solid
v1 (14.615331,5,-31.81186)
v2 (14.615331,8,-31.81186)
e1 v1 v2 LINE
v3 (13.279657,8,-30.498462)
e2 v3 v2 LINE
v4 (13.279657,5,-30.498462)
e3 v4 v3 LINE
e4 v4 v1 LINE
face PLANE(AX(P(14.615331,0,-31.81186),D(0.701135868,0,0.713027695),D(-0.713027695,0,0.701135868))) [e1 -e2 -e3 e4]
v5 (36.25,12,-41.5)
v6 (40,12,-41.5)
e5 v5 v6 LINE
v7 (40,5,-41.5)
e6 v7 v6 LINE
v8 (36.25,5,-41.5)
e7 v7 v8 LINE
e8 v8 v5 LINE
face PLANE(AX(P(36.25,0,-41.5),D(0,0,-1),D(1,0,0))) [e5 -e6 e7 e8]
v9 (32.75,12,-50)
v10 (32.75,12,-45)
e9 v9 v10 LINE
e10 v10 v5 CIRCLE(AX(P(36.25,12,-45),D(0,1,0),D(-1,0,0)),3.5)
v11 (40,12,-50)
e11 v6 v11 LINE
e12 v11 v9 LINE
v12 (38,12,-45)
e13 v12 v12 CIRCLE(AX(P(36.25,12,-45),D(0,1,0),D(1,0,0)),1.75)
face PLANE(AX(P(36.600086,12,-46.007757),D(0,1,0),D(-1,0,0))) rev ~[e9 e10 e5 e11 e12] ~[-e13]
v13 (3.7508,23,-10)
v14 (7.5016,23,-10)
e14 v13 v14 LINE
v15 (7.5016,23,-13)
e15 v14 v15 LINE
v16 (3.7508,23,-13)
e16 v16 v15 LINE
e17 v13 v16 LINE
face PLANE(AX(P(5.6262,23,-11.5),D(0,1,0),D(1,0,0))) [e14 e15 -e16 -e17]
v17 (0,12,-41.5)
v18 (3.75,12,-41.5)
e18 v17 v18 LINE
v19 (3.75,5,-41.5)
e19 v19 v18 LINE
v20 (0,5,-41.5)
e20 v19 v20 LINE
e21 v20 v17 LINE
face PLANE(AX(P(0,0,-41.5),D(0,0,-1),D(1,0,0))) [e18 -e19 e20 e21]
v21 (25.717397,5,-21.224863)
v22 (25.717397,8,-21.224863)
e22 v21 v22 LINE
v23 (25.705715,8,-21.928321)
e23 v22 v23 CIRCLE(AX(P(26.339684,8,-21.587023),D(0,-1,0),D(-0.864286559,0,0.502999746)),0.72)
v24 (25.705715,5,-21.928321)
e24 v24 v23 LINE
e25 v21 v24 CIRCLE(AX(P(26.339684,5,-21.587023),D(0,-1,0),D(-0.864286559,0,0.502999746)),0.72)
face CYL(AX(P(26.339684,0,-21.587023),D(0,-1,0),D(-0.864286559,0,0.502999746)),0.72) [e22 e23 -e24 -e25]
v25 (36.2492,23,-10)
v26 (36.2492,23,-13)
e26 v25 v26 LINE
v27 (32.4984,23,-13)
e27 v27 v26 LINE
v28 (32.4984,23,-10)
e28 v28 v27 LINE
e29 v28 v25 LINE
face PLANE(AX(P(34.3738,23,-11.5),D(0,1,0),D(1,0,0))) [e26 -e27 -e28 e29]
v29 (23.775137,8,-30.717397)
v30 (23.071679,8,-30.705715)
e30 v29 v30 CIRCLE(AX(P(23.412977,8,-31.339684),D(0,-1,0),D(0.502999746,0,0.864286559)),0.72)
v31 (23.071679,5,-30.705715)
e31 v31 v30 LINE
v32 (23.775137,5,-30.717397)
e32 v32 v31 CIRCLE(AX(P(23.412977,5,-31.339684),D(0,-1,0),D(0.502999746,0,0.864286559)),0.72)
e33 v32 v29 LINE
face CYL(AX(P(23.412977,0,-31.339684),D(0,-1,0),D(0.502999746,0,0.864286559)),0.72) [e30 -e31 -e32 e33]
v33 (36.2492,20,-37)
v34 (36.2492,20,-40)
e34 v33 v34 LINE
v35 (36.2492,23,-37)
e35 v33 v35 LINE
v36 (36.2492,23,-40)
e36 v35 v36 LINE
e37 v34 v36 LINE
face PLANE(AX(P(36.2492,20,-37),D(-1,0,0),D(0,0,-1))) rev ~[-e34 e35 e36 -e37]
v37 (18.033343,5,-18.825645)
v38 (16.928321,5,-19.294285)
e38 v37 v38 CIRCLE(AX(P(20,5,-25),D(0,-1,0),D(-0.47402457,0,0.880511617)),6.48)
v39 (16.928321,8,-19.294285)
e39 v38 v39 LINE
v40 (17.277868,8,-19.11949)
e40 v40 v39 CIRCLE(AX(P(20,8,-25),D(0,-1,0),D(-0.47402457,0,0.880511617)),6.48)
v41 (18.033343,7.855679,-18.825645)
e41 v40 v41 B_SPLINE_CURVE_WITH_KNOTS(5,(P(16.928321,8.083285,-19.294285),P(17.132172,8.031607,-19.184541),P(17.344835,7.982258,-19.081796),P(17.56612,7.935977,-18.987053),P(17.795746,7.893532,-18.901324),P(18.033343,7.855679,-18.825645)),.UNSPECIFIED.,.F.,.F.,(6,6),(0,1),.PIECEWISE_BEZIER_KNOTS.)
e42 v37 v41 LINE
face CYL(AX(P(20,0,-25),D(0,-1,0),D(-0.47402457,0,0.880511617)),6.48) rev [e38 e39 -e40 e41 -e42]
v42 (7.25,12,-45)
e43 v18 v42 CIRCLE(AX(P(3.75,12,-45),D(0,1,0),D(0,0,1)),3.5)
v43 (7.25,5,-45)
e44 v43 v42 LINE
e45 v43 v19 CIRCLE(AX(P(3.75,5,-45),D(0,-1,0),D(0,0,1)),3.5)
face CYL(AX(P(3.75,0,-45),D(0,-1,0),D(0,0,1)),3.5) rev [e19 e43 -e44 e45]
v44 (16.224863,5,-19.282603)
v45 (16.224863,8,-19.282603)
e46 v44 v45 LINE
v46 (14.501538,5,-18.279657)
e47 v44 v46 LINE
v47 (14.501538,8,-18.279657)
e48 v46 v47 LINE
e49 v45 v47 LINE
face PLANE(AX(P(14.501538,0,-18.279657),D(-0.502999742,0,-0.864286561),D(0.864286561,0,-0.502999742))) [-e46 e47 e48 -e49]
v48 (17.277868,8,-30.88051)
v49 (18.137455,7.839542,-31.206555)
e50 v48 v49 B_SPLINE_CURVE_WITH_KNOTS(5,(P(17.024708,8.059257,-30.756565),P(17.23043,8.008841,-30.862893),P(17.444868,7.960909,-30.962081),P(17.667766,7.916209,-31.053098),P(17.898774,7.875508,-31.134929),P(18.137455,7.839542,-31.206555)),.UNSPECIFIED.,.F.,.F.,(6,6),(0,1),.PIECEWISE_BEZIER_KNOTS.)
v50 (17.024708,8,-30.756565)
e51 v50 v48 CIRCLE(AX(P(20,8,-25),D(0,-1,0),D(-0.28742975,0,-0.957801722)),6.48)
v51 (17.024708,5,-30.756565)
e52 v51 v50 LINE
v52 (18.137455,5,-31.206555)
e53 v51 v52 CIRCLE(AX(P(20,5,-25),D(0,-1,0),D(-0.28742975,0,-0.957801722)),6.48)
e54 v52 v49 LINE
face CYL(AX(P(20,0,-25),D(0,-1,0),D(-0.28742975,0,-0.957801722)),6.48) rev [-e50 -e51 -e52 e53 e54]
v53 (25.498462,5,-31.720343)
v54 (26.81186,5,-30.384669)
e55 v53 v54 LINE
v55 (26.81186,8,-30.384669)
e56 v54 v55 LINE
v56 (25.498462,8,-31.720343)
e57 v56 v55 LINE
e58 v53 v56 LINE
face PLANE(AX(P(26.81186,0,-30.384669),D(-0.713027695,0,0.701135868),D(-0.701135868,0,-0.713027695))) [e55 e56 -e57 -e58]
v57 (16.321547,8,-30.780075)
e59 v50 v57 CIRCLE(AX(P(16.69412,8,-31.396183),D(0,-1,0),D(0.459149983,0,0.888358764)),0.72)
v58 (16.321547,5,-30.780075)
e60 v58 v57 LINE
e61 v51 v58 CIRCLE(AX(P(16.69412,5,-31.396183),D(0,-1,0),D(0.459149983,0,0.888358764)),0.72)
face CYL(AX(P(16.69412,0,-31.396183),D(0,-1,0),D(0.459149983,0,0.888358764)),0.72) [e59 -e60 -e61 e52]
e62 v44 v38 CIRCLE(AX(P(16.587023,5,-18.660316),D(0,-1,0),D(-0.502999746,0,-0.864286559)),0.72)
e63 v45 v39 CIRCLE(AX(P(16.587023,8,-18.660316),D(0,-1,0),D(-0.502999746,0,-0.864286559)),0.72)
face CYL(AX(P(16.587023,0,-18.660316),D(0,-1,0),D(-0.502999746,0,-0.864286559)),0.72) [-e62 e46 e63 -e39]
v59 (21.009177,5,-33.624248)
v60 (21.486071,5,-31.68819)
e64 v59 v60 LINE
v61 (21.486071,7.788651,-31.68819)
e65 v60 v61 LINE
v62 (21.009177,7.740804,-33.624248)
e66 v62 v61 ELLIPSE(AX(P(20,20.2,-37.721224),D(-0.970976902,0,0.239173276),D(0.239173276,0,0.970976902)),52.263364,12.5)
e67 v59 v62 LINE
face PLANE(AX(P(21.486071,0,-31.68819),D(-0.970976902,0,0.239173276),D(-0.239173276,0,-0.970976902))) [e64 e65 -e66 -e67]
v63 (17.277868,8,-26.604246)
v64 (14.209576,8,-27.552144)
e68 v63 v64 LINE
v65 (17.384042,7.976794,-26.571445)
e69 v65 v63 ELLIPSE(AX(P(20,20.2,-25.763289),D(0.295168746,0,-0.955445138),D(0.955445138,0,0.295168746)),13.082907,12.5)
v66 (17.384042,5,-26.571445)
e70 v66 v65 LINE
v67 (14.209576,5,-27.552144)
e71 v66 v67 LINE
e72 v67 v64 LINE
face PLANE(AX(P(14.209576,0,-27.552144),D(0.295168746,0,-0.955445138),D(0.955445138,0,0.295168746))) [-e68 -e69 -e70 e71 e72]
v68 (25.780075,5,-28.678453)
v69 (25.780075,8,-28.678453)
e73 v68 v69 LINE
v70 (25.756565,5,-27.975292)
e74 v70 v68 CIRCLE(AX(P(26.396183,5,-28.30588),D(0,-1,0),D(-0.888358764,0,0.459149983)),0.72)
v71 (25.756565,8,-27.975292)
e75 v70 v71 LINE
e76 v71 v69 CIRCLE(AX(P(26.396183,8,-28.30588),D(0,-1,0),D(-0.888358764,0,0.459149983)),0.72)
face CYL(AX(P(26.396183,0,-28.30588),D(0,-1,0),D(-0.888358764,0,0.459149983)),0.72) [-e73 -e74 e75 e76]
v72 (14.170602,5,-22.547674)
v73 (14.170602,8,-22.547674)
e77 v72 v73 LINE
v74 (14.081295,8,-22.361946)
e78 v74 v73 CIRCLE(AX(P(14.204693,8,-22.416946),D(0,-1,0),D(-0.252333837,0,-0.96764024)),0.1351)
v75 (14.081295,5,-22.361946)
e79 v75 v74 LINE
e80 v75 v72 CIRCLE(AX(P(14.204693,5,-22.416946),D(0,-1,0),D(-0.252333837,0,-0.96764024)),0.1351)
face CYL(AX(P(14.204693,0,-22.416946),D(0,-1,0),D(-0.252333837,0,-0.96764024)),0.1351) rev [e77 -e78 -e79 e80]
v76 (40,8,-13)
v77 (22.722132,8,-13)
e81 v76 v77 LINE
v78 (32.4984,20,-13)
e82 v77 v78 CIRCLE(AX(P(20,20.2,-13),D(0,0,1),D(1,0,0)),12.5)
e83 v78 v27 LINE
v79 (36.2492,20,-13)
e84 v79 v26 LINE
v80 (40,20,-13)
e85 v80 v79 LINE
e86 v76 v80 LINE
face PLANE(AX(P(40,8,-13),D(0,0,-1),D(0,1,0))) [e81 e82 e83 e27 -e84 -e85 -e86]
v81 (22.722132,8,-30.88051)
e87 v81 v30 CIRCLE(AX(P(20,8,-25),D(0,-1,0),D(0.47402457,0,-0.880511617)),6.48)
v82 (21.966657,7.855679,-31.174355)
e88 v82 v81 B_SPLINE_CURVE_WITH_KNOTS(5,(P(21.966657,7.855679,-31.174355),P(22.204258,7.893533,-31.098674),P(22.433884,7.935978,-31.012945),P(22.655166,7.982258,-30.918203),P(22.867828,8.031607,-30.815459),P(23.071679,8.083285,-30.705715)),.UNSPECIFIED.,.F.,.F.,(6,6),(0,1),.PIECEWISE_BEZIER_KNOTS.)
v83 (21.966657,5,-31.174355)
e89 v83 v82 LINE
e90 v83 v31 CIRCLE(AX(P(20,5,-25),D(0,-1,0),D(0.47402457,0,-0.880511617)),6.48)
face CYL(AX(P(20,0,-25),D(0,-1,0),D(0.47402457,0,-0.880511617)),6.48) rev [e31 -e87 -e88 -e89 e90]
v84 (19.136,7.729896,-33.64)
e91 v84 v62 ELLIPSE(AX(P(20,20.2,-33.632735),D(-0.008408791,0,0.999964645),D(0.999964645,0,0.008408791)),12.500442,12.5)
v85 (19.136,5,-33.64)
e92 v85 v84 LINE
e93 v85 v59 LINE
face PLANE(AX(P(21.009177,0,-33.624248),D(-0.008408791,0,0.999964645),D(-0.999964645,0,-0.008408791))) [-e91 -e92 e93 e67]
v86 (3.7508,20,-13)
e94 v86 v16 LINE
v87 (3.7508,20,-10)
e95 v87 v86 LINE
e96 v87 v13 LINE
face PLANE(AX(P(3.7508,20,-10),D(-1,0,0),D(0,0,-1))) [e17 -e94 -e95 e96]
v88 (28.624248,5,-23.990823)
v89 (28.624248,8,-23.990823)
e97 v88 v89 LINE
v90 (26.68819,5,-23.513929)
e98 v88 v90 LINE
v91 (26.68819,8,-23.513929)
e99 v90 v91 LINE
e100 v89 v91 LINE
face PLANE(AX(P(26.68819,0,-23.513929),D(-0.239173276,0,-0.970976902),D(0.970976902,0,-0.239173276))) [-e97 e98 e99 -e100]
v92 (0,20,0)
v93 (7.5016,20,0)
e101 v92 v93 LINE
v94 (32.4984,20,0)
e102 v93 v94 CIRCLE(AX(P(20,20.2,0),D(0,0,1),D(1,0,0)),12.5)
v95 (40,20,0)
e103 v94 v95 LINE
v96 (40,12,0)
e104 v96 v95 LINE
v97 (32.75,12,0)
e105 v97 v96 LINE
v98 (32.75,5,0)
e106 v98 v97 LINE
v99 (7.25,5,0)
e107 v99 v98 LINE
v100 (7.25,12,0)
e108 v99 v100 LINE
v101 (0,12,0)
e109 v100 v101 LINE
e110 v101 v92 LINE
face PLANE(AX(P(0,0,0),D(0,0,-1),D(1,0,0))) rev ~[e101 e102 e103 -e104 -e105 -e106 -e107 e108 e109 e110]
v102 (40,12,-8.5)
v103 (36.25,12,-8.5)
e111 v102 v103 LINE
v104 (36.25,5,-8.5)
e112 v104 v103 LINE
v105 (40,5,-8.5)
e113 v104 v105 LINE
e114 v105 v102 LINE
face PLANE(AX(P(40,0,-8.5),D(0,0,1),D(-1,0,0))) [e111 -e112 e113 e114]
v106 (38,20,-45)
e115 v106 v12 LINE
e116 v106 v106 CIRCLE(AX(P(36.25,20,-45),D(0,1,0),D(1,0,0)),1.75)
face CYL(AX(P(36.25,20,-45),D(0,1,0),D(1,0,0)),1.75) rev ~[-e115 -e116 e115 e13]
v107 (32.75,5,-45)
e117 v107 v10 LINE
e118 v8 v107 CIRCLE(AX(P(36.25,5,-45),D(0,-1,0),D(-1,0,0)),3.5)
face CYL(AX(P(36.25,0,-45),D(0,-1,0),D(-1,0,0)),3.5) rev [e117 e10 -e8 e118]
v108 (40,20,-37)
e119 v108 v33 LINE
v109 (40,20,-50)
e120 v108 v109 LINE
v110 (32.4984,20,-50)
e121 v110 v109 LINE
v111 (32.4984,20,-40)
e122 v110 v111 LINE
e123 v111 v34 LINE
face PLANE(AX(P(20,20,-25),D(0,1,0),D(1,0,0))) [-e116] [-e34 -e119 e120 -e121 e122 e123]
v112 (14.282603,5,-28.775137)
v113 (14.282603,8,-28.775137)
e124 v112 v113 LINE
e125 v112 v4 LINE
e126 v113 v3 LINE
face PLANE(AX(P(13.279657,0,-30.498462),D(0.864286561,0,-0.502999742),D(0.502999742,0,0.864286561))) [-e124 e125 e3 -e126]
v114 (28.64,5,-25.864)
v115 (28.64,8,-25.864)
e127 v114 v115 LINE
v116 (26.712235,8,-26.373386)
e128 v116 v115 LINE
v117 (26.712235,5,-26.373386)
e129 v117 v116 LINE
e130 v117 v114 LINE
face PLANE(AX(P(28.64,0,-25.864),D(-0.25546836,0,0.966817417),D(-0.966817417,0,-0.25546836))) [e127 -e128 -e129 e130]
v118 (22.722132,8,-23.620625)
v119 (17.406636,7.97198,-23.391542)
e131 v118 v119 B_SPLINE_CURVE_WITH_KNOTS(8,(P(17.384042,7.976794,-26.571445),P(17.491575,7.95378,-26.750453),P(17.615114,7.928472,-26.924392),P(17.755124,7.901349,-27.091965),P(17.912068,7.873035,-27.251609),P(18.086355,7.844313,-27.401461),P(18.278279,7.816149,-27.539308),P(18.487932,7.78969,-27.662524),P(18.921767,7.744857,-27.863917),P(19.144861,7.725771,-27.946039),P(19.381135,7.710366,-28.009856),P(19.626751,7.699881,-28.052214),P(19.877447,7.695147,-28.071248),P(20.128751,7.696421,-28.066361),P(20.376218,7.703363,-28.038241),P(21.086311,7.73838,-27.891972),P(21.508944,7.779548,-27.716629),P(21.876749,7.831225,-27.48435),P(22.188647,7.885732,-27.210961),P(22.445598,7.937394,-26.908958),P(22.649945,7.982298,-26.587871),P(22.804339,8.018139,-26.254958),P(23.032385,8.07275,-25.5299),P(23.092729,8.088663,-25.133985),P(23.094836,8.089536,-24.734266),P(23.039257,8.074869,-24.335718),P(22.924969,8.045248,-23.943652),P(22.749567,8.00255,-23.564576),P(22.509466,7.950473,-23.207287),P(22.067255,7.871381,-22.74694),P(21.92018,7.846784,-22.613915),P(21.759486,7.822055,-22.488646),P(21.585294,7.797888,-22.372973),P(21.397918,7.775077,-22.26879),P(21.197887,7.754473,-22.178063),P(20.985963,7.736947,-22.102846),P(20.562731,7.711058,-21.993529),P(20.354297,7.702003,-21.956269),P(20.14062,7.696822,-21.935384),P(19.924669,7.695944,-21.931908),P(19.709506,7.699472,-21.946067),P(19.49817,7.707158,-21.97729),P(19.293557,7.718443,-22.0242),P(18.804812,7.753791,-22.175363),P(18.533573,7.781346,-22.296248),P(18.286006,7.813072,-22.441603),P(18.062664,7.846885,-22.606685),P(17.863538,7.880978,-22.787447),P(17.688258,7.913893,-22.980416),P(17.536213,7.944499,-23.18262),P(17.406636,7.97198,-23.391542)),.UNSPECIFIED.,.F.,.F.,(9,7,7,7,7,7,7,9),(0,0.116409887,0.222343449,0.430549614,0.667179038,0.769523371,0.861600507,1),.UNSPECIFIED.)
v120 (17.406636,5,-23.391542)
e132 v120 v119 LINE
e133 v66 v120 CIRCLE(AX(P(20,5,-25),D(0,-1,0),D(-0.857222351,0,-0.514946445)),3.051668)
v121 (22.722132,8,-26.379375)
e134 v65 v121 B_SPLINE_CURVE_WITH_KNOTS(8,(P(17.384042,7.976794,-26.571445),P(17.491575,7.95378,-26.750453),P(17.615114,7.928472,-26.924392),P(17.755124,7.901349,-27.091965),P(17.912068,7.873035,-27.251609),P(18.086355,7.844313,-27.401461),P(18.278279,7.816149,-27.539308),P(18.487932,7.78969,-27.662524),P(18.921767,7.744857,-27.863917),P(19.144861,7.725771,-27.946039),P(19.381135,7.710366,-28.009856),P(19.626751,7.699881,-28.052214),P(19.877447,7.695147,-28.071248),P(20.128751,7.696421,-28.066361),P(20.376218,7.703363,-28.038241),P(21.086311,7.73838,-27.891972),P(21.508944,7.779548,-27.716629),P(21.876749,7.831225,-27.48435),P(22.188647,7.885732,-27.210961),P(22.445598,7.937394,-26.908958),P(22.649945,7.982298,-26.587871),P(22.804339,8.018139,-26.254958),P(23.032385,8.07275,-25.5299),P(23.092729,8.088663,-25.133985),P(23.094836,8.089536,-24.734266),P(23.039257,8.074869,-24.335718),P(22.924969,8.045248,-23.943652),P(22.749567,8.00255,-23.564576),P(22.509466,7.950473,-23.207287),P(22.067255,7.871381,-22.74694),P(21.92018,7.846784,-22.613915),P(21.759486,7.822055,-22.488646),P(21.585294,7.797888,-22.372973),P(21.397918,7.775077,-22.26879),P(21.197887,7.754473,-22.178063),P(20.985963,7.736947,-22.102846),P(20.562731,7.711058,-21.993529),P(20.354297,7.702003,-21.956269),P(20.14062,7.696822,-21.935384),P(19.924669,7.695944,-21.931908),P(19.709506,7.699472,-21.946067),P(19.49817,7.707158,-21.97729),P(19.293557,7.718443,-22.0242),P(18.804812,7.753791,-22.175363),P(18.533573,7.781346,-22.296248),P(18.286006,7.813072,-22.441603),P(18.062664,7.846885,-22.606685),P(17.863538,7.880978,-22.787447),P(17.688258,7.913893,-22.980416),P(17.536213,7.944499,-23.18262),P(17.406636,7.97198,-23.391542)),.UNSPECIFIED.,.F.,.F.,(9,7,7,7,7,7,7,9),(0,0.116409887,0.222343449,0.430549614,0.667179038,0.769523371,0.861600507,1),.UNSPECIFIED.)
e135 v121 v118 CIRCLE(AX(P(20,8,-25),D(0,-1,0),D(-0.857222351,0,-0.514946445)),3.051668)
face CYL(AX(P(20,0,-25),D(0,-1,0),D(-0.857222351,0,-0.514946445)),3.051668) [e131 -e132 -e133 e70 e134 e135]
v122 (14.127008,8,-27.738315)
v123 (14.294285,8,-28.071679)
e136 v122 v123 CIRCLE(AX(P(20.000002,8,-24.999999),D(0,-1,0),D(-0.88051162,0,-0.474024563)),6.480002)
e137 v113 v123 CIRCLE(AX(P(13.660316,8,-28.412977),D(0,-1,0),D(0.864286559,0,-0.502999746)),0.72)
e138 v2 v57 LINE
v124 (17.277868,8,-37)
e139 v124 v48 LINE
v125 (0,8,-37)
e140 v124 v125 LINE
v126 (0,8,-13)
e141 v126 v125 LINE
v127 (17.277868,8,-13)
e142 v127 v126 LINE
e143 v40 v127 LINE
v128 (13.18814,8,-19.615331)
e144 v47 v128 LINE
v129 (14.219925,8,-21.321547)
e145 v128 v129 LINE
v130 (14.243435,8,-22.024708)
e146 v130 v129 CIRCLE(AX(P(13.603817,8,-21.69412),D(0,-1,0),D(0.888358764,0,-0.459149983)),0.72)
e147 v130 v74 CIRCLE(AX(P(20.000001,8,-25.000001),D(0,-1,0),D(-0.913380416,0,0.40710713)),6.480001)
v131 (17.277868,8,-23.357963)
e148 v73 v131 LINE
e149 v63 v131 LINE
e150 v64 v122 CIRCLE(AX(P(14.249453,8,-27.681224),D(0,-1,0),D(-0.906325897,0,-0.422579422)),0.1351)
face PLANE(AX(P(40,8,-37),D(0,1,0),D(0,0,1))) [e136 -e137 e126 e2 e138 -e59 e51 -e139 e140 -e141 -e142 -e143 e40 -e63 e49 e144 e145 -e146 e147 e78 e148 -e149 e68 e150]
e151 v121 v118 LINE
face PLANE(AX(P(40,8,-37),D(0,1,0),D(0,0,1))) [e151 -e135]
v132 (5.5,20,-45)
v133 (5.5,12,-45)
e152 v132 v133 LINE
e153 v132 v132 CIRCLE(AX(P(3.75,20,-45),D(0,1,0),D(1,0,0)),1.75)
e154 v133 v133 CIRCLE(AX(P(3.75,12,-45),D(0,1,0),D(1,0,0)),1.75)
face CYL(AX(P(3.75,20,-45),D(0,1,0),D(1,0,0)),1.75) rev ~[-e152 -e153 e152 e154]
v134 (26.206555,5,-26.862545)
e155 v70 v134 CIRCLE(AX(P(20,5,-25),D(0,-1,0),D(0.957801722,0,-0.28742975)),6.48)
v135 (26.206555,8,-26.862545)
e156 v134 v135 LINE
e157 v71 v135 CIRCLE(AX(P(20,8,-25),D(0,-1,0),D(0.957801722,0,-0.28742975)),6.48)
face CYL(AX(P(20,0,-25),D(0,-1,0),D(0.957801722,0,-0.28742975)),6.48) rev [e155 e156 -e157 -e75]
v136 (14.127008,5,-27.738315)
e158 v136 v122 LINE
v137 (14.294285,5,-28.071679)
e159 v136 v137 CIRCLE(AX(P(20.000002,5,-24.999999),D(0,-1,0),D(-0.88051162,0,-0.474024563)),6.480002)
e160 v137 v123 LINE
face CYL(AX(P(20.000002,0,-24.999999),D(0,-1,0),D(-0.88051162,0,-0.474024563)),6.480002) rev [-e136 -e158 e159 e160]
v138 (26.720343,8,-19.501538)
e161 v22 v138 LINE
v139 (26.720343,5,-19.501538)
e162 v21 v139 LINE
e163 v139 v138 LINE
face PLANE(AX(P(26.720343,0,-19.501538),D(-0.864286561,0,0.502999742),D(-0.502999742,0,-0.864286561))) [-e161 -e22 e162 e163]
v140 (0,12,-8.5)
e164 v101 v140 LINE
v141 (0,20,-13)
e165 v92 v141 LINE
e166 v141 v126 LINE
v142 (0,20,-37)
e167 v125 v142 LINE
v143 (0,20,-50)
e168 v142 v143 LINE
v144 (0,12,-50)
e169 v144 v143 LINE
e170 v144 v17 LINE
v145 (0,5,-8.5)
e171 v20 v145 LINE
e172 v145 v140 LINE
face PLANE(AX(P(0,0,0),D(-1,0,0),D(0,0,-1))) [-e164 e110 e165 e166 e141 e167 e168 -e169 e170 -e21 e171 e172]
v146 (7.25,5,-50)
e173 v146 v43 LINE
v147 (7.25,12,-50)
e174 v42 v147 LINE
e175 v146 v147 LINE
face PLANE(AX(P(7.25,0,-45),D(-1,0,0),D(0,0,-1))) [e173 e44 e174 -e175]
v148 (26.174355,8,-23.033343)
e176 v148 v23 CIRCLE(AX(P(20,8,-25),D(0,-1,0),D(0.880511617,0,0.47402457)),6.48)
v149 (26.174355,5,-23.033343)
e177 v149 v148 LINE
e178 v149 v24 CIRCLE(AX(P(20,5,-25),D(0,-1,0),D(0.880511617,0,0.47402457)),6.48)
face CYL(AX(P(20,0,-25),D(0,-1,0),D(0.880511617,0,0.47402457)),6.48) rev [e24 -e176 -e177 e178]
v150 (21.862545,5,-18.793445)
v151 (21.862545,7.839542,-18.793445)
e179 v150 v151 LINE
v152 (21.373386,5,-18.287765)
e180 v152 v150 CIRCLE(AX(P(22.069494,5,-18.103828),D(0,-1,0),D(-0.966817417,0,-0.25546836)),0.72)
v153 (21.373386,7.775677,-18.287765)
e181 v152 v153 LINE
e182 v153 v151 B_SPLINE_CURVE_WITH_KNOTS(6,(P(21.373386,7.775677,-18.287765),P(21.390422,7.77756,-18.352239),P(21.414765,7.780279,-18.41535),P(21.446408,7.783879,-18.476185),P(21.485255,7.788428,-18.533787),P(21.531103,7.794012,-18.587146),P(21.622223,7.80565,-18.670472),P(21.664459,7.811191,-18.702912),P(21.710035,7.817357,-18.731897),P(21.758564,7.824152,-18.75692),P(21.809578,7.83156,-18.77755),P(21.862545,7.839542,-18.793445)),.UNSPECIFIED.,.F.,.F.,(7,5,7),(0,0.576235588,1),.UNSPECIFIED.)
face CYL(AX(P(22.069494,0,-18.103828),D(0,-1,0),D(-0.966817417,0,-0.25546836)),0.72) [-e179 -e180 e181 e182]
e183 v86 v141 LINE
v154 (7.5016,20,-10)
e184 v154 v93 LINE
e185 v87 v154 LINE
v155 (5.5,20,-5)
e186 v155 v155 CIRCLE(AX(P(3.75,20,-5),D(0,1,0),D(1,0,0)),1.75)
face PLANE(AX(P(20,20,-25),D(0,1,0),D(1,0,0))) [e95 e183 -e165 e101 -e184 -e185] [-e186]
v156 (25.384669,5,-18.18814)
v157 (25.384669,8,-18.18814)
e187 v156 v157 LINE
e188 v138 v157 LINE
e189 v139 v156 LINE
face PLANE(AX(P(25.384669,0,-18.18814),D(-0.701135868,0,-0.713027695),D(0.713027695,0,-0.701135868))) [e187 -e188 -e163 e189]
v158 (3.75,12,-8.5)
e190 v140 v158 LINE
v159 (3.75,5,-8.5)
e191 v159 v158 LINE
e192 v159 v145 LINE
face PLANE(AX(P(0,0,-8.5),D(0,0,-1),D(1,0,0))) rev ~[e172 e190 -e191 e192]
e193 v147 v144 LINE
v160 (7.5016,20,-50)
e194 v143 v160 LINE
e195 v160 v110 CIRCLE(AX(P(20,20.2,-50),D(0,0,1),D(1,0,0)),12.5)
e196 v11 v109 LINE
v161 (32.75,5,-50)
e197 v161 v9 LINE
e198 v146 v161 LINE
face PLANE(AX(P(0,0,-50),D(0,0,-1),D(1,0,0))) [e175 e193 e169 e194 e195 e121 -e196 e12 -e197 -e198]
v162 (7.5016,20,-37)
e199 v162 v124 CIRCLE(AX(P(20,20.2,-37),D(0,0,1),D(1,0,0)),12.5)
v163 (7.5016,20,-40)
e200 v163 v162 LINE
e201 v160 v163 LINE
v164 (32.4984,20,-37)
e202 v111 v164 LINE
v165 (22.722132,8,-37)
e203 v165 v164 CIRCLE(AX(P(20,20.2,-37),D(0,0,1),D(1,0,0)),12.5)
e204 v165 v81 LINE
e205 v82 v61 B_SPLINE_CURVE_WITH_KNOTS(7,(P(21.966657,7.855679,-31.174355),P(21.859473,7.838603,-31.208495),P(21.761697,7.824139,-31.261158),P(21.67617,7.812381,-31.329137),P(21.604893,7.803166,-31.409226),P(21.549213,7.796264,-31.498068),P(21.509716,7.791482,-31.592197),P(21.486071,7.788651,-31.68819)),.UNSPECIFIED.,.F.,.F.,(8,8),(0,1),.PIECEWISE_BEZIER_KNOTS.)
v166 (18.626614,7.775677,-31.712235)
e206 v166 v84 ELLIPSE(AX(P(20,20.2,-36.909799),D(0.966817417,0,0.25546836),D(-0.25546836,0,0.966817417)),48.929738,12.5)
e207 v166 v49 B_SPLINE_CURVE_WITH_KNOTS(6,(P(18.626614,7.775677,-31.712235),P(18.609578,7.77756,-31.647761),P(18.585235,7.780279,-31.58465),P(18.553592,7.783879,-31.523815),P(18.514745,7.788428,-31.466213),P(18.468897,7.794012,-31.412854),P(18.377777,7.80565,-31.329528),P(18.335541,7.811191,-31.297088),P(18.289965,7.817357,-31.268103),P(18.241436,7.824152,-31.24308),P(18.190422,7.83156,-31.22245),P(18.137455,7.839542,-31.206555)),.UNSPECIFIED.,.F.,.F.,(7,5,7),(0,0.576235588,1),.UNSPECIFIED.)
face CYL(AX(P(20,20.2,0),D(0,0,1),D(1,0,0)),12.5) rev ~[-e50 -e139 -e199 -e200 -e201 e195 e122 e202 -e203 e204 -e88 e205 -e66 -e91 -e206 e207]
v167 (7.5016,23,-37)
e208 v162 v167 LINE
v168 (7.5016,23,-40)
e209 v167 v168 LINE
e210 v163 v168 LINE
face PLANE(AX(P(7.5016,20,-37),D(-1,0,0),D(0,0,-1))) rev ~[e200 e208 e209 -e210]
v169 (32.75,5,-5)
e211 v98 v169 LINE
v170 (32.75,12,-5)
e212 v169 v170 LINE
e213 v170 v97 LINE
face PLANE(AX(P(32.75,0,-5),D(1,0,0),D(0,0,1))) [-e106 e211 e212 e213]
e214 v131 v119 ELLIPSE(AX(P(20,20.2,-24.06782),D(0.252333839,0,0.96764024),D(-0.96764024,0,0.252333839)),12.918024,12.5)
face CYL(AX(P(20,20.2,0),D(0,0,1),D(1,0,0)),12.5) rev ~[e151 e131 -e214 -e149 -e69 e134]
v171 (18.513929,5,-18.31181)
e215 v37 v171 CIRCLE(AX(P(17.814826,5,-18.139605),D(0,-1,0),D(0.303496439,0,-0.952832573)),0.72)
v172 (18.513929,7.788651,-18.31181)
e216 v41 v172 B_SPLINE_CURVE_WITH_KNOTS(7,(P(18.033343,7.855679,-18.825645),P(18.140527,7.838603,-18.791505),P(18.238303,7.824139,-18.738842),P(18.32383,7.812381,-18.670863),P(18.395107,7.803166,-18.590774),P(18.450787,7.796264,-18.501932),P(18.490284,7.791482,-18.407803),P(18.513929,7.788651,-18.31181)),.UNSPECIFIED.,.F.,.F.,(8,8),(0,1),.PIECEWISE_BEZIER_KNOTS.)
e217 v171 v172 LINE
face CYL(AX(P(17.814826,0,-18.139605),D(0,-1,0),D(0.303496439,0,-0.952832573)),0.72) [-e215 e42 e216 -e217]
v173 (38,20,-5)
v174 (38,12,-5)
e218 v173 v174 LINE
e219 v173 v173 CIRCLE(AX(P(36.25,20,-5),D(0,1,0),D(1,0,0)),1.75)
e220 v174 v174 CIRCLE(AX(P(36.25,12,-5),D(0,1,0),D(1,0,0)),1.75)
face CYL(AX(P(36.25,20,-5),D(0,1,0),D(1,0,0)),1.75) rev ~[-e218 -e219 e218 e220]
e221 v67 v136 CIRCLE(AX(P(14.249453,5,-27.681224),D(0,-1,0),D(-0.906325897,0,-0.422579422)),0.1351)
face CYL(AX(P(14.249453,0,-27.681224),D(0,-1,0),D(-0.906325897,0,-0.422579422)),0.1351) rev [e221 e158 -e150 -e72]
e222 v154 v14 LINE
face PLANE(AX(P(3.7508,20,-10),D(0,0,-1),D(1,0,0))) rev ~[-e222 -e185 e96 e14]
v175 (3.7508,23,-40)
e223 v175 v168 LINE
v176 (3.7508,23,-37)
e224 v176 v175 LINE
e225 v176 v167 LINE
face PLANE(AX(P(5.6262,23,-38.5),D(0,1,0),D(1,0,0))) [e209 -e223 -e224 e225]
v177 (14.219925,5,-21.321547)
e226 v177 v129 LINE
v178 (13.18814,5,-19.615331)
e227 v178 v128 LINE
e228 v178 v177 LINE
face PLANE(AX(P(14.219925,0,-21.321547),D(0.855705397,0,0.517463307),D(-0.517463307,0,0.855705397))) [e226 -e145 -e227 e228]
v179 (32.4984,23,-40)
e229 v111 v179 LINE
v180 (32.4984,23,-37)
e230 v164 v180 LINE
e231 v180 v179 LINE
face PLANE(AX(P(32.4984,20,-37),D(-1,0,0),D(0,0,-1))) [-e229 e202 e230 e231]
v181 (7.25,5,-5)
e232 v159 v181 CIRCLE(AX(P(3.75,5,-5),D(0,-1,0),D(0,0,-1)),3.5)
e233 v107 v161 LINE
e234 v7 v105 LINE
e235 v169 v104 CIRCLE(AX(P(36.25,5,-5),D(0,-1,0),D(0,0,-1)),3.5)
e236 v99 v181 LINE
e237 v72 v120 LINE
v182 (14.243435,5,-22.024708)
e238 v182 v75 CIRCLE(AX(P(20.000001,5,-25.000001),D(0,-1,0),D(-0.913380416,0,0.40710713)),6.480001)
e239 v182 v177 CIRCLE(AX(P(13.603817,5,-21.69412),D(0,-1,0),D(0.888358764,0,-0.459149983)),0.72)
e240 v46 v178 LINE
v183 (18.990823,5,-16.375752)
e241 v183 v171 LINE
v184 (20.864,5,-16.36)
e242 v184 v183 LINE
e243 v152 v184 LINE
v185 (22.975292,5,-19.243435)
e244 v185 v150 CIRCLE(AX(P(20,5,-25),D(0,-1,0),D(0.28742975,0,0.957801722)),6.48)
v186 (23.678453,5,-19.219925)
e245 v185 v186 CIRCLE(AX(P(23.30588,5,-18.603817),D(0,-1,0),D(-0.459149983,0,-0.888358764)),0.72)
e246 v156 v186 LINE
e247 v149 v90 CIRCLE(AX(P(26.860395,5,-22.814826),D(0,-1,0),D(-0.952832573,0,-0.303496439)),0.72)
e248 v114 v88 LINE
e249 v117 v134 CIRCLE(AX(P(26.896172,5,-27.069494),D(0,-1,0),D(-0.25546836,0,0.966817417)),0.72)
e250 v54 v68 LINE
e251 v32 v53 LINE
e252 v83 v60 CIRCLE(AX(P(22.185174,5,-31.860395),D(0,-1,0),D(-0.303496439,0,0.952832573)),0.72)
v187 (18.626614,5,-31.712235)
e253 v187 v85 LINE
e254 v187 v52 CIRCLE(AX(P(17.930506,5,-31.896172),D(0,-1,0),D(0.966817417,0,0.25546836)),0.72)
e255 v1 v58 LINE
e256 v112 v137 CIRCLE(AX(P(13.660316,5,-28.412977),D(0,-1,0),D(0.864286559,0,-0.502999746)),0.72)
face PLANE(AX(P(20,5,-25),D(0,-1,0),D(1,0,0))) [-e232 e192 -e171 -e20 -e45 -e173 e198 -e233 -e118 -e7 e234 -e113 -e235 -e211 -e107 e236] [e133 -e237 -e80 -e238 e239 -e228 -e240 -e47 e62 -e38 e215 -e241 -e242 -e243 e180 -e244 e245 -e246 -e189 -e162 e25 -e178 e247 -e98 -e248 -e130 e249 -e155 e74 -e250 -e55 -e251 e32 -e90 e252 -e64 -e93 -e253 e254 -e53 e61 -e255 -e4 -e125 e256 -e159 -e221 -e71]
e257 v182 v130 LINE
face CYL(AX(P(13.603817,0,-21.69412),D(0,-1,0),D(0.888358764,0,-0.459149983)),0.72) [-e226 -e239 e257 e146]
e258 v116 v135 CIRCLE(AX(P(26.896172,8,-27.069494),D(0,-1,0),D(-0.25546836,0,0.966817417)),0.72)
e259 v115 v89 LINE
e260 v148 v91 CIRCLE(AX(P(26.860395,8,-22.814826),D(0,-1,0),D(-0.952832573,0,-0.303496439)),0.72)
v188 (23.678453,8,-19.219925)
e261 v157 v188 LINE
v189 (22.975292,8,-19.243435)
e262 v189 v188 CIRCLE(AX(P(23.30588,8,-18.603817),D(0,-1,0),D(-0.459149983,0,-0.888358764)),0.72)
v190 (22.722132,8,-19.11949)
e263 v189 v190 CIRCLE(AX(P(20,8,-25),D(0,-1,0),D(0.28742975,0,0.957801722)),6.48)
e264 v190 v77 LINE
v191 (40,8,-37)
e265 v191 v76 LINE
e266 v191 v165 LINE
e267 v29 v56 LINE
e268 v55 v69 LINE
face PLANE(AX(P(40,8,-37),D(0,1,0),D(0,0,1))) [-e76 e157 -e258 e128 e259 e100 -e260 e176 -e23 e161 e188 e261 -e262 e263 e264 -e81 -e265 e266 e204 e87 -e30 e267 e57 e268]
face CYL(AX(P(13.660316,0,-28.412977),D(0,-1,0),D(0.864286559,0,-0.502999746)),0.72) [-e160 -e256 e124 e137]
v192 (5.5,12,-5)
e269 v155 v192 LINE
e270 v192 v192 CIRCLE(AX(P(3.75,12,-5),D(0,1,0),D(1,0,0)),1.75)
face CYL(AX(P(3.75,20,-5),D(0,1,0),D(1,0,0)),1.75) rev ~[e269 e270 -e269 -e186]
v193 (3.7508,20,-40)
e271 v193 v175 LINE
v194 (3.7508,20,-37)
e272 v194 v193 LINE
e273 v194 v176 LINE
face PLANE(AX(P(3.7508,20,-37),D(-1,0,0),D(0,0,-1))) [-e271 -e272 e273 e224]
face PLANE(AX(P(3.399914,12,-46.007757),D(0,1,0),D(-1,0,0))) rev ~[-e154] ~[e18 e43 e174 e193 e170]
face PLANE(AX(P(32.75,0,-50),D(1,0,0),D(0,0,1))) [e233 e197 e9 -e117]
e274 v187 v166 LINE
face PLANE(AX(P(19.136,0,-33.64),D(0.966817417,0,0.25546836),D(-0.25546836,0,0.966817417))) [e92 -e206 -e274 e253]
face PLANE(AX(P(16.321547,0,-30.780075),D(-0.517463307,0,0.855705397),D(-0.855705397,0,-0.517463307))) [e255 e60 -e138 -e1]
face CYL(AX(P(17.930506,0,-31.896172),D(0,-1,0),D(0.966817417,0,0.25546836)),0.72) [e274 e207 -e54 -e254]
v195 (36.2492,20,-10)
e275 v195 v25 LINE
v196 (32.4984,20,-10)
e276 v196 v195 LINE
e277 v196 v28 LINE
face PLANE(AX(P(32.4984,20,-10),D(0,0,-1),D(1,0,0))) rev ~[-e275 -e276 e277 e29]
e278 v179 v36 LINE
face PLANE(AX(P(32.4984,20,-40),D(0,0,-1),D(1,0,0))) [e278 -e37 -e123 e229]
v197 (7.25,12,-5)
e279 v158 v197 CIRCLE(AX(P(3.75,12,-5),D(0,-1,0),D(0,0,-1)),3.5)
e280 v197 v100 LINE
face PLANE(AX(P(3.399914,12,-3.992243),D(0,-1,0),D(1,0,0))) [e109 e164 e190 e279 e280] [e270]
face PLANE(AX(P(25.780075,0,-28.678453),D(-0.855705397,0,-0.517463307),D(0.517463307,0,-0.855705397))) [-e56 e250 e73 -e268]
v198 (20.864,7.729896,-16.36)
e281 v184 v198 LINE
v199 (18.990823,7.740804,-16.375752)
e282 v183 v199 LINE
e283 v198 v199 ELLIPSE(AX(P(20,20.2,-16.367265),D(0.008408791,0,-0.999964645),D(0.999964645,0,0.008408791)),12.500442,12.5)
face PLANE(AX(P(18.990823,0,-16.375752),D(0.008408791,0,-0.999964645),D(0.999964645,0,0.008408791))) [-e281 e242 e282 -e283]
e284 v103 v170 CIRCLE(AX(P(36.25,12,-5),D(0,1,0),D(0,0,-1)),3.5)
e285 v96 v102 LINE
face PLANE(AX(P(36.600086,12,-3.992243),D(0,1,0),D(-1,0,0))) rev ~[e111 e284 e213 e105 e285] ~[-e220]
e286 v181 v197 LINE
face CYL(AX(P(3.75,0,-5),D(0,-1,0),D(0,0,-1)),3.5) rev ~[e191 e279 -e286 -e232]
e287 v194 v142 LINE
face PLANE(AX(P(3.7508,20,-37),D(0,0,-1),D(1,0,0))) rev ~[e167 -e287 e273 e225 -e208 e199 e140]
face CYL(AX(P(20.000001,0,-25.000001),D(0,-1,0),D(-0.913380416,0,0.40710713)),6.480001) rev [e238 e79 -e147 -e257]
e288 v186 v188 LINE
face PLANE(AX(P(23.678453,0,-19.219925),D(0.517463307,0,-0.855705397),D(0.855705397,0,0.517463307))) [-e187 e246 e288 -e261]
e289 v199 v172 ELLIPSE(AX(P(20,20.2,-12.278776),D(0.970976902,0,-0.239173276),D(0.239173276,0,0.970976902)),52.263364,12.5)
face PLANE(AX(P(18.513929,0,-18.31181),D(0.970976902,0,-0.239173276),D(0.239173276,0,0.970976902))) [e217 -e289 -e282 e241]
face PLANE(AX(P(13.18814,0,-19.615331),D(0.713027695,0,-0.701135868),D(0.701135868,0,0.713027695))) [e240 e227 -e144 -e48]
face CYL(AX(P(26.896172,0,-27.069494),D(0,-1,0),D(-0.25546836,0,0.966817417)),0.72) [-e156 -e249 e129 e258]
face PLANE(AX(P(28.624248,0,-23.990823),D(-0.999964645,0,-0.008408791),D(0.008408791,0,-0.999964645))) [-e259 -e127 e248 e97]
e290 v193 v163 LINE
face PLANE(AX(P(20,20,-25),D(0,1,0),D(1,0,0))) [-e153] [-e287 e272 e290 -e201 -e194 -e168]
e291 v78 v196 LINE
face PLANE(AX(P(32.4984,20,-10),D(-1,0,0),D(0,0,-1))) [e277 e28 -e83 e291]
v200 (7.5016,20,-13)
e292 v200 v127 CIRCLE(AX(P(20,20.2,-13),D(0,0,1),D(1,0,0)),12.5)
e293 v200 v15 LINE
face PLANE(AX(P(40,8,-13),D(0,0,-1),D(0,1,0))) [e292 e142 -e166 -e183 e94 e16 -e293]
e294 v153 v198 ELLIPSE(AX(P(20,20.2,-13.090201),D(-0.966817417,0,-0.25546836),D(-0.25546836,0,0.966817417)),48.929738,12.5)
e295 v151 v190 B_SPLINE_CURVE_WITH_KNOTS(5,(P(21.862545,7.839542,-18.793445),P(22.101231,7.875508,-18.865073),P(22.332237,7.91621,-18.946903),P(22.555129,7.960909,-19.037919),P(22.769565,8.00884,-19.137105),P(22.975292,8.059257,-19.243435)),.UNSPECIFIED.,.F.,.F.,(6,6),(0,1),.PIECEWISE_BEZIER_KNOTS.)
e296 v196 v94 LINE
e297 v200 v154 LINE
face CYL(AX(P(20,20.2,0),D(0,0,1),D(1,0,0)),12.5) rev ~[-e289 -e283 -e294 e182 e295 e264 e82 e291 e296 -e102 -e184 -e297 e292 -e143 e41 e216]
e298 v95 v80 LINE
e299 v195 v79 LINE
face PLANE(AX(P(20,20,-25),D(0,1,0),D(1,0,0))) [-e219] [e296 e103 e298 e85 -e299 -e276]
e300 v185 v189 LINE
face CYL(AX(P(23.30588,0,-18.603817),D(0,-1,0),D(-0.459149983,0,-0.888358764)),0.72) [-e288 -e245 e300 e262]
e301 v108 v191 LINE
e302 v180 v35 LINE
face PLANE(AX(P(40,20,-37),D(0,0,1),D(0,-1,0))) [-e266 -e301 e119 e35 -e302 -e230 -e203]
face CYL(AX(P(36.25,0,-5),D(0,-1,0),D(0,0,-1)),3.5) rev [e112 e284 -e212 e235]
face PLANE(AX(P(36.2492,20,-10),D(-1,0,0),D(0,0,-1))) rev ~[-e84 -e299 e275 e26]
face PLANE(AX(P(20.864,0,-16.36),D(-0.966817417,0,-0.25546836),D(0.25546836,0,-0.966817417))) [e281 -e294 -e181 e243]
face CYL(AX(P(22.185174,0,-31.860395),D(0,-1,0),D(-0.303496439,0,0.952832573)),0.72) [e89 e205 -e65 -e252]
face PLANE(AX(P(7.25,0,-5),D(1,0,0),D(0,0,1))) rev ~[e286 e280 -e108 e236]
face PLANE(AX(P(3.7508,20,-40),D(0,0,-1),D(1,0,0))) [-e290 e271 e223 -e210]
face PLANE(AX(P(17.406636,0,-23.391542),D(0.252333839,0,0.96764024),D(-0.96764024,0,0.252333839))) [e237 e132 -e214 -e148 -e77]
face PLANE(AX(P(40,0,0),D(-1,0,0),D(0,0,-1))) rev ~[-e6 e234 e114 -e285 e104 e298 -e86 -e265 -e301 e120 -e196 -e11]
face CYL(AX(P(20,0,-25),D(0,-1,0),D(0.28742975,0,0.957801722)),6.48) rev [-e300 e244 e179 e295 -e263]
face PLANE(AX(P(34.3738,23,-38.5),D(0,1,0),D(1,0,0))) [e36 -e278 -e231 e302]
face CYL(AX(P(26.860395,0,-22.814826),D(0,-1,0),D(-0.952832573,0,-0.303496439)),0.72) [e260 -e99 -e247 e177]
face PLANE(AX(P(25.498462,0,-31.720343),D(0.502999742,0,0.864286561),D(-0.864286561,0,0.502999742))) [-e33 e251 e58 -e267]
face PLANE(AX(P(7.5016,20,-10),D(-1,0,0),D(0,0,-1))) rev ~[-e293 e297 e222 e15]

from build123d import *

# Parameters (mm, degrees)
CROQUIS1_W              = 40
CROQUIS1_H              = 50
SALIENTE_EXTRUIR1_DEPTH = 20
CROQUIS2_R              = 12.5
CORTAR_EXTRUIR1_DEPTH   = 51
CROQUIS3_R              = 1.75
CORTAR_EXTRUIR2_DEPTH   = 21
CORTAR_EXTRUIR3_DEPTH   = 41
CROQUIS5_W              = 3.750800051
CROQUIS5_H              = 3
SALIENTE_EXTRUIR3_DEPTH = 3
CORTAR_EXTRUIR5_DEPTH   = 24
CORTAR_EXTRUIR6_DEPTH   = 12
CROQUIS8_W              = 40
CROQUIS8_H              = 50
CORTAR_EXTRUIR7_DEPTH   = 5


with BuildPart() as part:
    # Croquis1 → Saliente-Extruir1 (new body)
    with BuildSketch(Plane(origin=(0, 0, 0), x_dir=(1, 0, 0), z_dir=(0, 1, 0))):
        with Locations((20, 25)):
            Rectangle(CROQUIS1_W, CROQUIS1_H)
    extrude(amount=SALIENTE_EXTRUIR1_DEPTH)

    # Croquis2 → Cortar-Extruir1 (cut, through all)
    with BuildSketch(Plane.XY):
        with Locations((20, 20.2)):
            Circle(CROQUIS2_R)
    extrude(amount=-CORTAR_EXTRUIR1_DEPTH, mode=Mode.SUBTRACT)

    # Croquis3 → Cortar-Extruir2 (cut, through all)
    with BuildSketch(Plane(origin=(0, 20, 0), x_dir=(1, 0, 0), z_dir=(0, 1, 0))):
        with Locations((3.75, 45)):
            Circle(CROQUIS3_R)
        with Locations((36.25, 45)):
            Circle(CROQUIS3_R)
        with Locations((36.25, 5)):
            Circle(CROQUIS3_R)
        with Locations((3.75, 5)):
            Circle(CROQUIS3_R)
    extrude(amount=-CORTAR_EXTRUIR2_DEPTH, mode=Mode.SUBTRACT)

    # Croquis4 → Cortar-Extruir3 (cut, through all)
    with BuildSketch(Plane(origin=(40, 0, 0), x_dir=(0, 0, -1), z_dir=(1, 0, 0))):
        Polygon((25, 20), (37, 20), (37, 8), (13, 8), (13, 20), align=None)
    extrude(amount=-CORTAR_EXTRUIR3_DEPTH, mode=Mode.SUBTRACT)

    # Croquis5 → Saliente-Extruir3 (add)
    with BuildSketch(Plane(origin=(0, 20, 0), x_dir=(1, 0, 0), z_dir=(0, 1, 0))):
        with Locations((5.626200076, 38.5)):
            Rectangle(CROQUIS5_W, CROQUIS5_H)
        with Locations((34.373799924, 11.5)):
            Rectangle(CROQUIS5_W, CROQUIS5_H)
        with Locations((34.373799924, 38.5)):
            Rectangle(CROQUIS5_W, CROQUIS5_H)
        with Locations((5.626200076, 11.5)):
            Rectangle(CROQUIS5_W, CROQUIS5_H)
    extrude(amount=SALIENTE_EXTRUIR3_DEPTH)

    # Croquis6 → Cortar-Extruir5 (cut, through all)
    with BuildSketch(Plane.XZ):
        with BuildLine():
            Line((13.188139939, -19.615331161), (14.501537669, -18.279657152))
            Line((14.501537669, -18.279657152), (16.224863288, -19.28260268))
            ThreePointArc((16.224863288, -19.28260268), (16.575067996, -19.380217097), (16.928320792, -19.294284721))
            ThreePointArc((16.928320792, -19.294284721), (17.469957789, -19.034324312), (18.033343063, -18.825644933))
            ThreePointArc((18.033343063, -18.825644933), (18.340671144, -18.631425053), (18.513928995, -18.31181024))
            Line((18.513928995, -18.31181024), (18.990823409, -16.375751708))
            Line((18.990823409, -16.375751708), (20.864, -16.36))
            Line((20.864, -16.36), (21.373385647, -18.287764816))
            ThreePointArc((21.373385647, -18.287764816), (21.551993955, -18.604420755), (21.862544768, -18.793444837))
            ThreePointArc((21.862544768, -18.793444837), (22.429359729, -18.992620263), (22.975291881, -19.243435206))
            ThreePointArc((22.975291881, -19.243435206), (23.329939845, -19.323414782), (23.678453448, -19.219924782))
            Line((23.678453448, -19.219924782), (25.384668839, -18.188139939))
            Line((25.384668839, -18.188139939), (26.720342848, -19.501537669))
            Line((26.720342848, -19.501537669), (25.71739732, -21.224863288))
            ThreePointArc((25.71739732, -21.224863288), (25.619782903, -21.575067996), (25.705715279, -21.928320792))
            ThreePointArc((25.705715279, -21.928320792), (25.965675688, -22.469957789), (26.174355067, -23.033343063))
            ThreePointArc((26.174355067, -23.033343063), (26.368574947, -23.340671144), (26.68818976, -23.513928995))
            Line((26.68818976, -23.513928995), (28.624248292, -23.990823409))
            Line((28.624248292, -23.990823409), (28.64, -25.864))
            Line((28.64, -25.864), (26.712235184, -26.373385647))
            ThreePointArc((26.712235184, -26.373385647), (26.395579245, -26.551993955), (26.206555163, -26.862544768))
            ThreePointArc((26.206555163, -26.862544768), (26.007379737, -27.429359729), (25.756564794, -27.975291881))
            ThreePointArc((25.756564794, -27.975291881), (25.676585218, -28.329939845), (25.780075218, -28.678453448))
            Line((25.780075218, -28.678453448), (26.811860061, -30.384668839))
            Line((26.811860061, -30.384668839), (25.498462331, -31.720342848))
            Line((25.498462331, -31.720342848), (23.775136712, -30.71739732))
            ThreePointArc((23.775136712, -30.71739732), (23.424932004, -30.619782903), (23.071679208, -30.705715279))
            ThreePointArc((23.071679208, -30.705715279), (22.530042211, -30.965675688), (21.966656937, -31.174355067))
            ThreePointArc((21.966656937, -31.174355067), (21.659328856, -31.368574947), (21.486071005, -31.68818976))
            Line((21.486071005, -31.68818976), (21.009176591, -33.624248292))
            Line((21.009176591, -33.624248292), (19.136, -33.64))
            Line((19.136, -33.64), (18.626614353, -31.712235184))
            ThreePointArc((18.626614353, -31.712235184), (18.448006045, -31.395579245), (18.137455232, -31.206555163))
            ThreePointArc((18.137455232, -31.206555163), (17.570640271, -31.007379737), (17.024708119, -30.756564794))
            ThreePointArc((17.024708119, -30.756564794), (16.670060155, -30.676585218), (16.321546552, -30.780075218))
            Line((16.321546552, -30.780075218), (14.615331161, -31.811860061))
            Line((14.615331161, -31.811860061), (13.279657152, -30.498462331))
            Line((13.279657152, -30.498462331), (14.28260268, -28.775136712))
            ThreePointArc((14.28260268, -28.775136712), (14.380217097, -28.424932004), (14.294284721, -28.071679208))
            ThreePointArc((14.294284721, -28.071679208), (14.208247472, -27.906200724), (14.127008205, -27.738314697))
            ThreePointArc((14.127008205, -27.738314697), (14.125953752, -27.626452127), (14.209575503, -27.552143653))
            Line((14.209575503, -27.552143653), (17.384042323, -26.571445385))
            ThreePointArc((17.384042323, -26.571445385), (23.05159058, -25.021681648), (17.406635637, -23.391542216))
            Line((17.406635637, -23.391542216), (14.170602247, -22.54767412))
            ThreePointArc((14.170602247, -22.54767412), (14.082937198, -22.475491969), (14.08129489, -22.361945826))
            ThreePointArc((14.08129489, -22.361945826), (14.159930296, -22.19215637), (14.243435206, -22.024708119))
            ThreePointArc((14.243435206, -22.024708119), (14.323414782, -21.670060155), (14.219924782, -21.321546552))
            Line((14.219924782, -21.321546552), (13.188139939, -19.615331161))
        make_face()
    extrude(amount=-CORTAR_EXTRUIR5_DEPTH, mode=Mode.SUBTRACT)

    # Croquis7 → Cortar-Extruir6 (cut)
    with BuildSketch(Plane.XZ):
        with BuildLine():
            Line((7.25, -5), (7.25, 0))
            Line((7.25, 0), (0, 0))
            Line((0, 0), (0, -8.5))
            Line((0, -8.5), (3.75, -8.5))
            ThreePointArc((3.75, -8.5), (6.224873734, -7.474873734), (7.25, -5))
        make_face()
        with BuildLine():
            Line((32.75, -5), (32.75, 0))
            Line((32.75, 0), (40, 0))
            Line((40, 0), (40, -8.5))
            Line((40, -8.5), (36.25, -8.5))
            ThreePointArc((36.25, -8.5), (33.775126266, -7.474873734), (32.75, -5))
        make_face()
        with BuildLine():
            Line((36.25, -41.5), (40, -41.5))
            Line((40, -41.5), (40, -50))
            Line((40, -50), (32.75, -50))
            Line((32.75, -50), (32.75, -45))
            ThreePointArc((32.75, -45), (33.775126266, -42.525126266), (36.25, -41.5))
        make_face()
        with BuildLine():
            Line((7.25, -45), (7.25, -50))
            Line((7.25, -50), (0, -50))
            Line((0, -50), (0, -41.5))
            Line((0, -41.5), (3.75, -41.5))
            ThreePointArc((3.75, -41.5), (6.224873734, -42.525126266), (7.25, -45))
        make_face()
    extrude(amount=-CORTAR_EXTRUIR6_DEPTH, mode=Mode.SUBTRACT)

    # Croquis8 → Cortar-Extruir7 (cut)
    with BuildSketch(Plane.XZ):
        with Locations((20, -25)):
            Rectangle(CROQUIS8_W, CROQUIS8_H)
    extrude(amount=-CORTAR_EXTRUIR7_DEPTH, mode=Mode.SUBTRACT)


solid = part.part
